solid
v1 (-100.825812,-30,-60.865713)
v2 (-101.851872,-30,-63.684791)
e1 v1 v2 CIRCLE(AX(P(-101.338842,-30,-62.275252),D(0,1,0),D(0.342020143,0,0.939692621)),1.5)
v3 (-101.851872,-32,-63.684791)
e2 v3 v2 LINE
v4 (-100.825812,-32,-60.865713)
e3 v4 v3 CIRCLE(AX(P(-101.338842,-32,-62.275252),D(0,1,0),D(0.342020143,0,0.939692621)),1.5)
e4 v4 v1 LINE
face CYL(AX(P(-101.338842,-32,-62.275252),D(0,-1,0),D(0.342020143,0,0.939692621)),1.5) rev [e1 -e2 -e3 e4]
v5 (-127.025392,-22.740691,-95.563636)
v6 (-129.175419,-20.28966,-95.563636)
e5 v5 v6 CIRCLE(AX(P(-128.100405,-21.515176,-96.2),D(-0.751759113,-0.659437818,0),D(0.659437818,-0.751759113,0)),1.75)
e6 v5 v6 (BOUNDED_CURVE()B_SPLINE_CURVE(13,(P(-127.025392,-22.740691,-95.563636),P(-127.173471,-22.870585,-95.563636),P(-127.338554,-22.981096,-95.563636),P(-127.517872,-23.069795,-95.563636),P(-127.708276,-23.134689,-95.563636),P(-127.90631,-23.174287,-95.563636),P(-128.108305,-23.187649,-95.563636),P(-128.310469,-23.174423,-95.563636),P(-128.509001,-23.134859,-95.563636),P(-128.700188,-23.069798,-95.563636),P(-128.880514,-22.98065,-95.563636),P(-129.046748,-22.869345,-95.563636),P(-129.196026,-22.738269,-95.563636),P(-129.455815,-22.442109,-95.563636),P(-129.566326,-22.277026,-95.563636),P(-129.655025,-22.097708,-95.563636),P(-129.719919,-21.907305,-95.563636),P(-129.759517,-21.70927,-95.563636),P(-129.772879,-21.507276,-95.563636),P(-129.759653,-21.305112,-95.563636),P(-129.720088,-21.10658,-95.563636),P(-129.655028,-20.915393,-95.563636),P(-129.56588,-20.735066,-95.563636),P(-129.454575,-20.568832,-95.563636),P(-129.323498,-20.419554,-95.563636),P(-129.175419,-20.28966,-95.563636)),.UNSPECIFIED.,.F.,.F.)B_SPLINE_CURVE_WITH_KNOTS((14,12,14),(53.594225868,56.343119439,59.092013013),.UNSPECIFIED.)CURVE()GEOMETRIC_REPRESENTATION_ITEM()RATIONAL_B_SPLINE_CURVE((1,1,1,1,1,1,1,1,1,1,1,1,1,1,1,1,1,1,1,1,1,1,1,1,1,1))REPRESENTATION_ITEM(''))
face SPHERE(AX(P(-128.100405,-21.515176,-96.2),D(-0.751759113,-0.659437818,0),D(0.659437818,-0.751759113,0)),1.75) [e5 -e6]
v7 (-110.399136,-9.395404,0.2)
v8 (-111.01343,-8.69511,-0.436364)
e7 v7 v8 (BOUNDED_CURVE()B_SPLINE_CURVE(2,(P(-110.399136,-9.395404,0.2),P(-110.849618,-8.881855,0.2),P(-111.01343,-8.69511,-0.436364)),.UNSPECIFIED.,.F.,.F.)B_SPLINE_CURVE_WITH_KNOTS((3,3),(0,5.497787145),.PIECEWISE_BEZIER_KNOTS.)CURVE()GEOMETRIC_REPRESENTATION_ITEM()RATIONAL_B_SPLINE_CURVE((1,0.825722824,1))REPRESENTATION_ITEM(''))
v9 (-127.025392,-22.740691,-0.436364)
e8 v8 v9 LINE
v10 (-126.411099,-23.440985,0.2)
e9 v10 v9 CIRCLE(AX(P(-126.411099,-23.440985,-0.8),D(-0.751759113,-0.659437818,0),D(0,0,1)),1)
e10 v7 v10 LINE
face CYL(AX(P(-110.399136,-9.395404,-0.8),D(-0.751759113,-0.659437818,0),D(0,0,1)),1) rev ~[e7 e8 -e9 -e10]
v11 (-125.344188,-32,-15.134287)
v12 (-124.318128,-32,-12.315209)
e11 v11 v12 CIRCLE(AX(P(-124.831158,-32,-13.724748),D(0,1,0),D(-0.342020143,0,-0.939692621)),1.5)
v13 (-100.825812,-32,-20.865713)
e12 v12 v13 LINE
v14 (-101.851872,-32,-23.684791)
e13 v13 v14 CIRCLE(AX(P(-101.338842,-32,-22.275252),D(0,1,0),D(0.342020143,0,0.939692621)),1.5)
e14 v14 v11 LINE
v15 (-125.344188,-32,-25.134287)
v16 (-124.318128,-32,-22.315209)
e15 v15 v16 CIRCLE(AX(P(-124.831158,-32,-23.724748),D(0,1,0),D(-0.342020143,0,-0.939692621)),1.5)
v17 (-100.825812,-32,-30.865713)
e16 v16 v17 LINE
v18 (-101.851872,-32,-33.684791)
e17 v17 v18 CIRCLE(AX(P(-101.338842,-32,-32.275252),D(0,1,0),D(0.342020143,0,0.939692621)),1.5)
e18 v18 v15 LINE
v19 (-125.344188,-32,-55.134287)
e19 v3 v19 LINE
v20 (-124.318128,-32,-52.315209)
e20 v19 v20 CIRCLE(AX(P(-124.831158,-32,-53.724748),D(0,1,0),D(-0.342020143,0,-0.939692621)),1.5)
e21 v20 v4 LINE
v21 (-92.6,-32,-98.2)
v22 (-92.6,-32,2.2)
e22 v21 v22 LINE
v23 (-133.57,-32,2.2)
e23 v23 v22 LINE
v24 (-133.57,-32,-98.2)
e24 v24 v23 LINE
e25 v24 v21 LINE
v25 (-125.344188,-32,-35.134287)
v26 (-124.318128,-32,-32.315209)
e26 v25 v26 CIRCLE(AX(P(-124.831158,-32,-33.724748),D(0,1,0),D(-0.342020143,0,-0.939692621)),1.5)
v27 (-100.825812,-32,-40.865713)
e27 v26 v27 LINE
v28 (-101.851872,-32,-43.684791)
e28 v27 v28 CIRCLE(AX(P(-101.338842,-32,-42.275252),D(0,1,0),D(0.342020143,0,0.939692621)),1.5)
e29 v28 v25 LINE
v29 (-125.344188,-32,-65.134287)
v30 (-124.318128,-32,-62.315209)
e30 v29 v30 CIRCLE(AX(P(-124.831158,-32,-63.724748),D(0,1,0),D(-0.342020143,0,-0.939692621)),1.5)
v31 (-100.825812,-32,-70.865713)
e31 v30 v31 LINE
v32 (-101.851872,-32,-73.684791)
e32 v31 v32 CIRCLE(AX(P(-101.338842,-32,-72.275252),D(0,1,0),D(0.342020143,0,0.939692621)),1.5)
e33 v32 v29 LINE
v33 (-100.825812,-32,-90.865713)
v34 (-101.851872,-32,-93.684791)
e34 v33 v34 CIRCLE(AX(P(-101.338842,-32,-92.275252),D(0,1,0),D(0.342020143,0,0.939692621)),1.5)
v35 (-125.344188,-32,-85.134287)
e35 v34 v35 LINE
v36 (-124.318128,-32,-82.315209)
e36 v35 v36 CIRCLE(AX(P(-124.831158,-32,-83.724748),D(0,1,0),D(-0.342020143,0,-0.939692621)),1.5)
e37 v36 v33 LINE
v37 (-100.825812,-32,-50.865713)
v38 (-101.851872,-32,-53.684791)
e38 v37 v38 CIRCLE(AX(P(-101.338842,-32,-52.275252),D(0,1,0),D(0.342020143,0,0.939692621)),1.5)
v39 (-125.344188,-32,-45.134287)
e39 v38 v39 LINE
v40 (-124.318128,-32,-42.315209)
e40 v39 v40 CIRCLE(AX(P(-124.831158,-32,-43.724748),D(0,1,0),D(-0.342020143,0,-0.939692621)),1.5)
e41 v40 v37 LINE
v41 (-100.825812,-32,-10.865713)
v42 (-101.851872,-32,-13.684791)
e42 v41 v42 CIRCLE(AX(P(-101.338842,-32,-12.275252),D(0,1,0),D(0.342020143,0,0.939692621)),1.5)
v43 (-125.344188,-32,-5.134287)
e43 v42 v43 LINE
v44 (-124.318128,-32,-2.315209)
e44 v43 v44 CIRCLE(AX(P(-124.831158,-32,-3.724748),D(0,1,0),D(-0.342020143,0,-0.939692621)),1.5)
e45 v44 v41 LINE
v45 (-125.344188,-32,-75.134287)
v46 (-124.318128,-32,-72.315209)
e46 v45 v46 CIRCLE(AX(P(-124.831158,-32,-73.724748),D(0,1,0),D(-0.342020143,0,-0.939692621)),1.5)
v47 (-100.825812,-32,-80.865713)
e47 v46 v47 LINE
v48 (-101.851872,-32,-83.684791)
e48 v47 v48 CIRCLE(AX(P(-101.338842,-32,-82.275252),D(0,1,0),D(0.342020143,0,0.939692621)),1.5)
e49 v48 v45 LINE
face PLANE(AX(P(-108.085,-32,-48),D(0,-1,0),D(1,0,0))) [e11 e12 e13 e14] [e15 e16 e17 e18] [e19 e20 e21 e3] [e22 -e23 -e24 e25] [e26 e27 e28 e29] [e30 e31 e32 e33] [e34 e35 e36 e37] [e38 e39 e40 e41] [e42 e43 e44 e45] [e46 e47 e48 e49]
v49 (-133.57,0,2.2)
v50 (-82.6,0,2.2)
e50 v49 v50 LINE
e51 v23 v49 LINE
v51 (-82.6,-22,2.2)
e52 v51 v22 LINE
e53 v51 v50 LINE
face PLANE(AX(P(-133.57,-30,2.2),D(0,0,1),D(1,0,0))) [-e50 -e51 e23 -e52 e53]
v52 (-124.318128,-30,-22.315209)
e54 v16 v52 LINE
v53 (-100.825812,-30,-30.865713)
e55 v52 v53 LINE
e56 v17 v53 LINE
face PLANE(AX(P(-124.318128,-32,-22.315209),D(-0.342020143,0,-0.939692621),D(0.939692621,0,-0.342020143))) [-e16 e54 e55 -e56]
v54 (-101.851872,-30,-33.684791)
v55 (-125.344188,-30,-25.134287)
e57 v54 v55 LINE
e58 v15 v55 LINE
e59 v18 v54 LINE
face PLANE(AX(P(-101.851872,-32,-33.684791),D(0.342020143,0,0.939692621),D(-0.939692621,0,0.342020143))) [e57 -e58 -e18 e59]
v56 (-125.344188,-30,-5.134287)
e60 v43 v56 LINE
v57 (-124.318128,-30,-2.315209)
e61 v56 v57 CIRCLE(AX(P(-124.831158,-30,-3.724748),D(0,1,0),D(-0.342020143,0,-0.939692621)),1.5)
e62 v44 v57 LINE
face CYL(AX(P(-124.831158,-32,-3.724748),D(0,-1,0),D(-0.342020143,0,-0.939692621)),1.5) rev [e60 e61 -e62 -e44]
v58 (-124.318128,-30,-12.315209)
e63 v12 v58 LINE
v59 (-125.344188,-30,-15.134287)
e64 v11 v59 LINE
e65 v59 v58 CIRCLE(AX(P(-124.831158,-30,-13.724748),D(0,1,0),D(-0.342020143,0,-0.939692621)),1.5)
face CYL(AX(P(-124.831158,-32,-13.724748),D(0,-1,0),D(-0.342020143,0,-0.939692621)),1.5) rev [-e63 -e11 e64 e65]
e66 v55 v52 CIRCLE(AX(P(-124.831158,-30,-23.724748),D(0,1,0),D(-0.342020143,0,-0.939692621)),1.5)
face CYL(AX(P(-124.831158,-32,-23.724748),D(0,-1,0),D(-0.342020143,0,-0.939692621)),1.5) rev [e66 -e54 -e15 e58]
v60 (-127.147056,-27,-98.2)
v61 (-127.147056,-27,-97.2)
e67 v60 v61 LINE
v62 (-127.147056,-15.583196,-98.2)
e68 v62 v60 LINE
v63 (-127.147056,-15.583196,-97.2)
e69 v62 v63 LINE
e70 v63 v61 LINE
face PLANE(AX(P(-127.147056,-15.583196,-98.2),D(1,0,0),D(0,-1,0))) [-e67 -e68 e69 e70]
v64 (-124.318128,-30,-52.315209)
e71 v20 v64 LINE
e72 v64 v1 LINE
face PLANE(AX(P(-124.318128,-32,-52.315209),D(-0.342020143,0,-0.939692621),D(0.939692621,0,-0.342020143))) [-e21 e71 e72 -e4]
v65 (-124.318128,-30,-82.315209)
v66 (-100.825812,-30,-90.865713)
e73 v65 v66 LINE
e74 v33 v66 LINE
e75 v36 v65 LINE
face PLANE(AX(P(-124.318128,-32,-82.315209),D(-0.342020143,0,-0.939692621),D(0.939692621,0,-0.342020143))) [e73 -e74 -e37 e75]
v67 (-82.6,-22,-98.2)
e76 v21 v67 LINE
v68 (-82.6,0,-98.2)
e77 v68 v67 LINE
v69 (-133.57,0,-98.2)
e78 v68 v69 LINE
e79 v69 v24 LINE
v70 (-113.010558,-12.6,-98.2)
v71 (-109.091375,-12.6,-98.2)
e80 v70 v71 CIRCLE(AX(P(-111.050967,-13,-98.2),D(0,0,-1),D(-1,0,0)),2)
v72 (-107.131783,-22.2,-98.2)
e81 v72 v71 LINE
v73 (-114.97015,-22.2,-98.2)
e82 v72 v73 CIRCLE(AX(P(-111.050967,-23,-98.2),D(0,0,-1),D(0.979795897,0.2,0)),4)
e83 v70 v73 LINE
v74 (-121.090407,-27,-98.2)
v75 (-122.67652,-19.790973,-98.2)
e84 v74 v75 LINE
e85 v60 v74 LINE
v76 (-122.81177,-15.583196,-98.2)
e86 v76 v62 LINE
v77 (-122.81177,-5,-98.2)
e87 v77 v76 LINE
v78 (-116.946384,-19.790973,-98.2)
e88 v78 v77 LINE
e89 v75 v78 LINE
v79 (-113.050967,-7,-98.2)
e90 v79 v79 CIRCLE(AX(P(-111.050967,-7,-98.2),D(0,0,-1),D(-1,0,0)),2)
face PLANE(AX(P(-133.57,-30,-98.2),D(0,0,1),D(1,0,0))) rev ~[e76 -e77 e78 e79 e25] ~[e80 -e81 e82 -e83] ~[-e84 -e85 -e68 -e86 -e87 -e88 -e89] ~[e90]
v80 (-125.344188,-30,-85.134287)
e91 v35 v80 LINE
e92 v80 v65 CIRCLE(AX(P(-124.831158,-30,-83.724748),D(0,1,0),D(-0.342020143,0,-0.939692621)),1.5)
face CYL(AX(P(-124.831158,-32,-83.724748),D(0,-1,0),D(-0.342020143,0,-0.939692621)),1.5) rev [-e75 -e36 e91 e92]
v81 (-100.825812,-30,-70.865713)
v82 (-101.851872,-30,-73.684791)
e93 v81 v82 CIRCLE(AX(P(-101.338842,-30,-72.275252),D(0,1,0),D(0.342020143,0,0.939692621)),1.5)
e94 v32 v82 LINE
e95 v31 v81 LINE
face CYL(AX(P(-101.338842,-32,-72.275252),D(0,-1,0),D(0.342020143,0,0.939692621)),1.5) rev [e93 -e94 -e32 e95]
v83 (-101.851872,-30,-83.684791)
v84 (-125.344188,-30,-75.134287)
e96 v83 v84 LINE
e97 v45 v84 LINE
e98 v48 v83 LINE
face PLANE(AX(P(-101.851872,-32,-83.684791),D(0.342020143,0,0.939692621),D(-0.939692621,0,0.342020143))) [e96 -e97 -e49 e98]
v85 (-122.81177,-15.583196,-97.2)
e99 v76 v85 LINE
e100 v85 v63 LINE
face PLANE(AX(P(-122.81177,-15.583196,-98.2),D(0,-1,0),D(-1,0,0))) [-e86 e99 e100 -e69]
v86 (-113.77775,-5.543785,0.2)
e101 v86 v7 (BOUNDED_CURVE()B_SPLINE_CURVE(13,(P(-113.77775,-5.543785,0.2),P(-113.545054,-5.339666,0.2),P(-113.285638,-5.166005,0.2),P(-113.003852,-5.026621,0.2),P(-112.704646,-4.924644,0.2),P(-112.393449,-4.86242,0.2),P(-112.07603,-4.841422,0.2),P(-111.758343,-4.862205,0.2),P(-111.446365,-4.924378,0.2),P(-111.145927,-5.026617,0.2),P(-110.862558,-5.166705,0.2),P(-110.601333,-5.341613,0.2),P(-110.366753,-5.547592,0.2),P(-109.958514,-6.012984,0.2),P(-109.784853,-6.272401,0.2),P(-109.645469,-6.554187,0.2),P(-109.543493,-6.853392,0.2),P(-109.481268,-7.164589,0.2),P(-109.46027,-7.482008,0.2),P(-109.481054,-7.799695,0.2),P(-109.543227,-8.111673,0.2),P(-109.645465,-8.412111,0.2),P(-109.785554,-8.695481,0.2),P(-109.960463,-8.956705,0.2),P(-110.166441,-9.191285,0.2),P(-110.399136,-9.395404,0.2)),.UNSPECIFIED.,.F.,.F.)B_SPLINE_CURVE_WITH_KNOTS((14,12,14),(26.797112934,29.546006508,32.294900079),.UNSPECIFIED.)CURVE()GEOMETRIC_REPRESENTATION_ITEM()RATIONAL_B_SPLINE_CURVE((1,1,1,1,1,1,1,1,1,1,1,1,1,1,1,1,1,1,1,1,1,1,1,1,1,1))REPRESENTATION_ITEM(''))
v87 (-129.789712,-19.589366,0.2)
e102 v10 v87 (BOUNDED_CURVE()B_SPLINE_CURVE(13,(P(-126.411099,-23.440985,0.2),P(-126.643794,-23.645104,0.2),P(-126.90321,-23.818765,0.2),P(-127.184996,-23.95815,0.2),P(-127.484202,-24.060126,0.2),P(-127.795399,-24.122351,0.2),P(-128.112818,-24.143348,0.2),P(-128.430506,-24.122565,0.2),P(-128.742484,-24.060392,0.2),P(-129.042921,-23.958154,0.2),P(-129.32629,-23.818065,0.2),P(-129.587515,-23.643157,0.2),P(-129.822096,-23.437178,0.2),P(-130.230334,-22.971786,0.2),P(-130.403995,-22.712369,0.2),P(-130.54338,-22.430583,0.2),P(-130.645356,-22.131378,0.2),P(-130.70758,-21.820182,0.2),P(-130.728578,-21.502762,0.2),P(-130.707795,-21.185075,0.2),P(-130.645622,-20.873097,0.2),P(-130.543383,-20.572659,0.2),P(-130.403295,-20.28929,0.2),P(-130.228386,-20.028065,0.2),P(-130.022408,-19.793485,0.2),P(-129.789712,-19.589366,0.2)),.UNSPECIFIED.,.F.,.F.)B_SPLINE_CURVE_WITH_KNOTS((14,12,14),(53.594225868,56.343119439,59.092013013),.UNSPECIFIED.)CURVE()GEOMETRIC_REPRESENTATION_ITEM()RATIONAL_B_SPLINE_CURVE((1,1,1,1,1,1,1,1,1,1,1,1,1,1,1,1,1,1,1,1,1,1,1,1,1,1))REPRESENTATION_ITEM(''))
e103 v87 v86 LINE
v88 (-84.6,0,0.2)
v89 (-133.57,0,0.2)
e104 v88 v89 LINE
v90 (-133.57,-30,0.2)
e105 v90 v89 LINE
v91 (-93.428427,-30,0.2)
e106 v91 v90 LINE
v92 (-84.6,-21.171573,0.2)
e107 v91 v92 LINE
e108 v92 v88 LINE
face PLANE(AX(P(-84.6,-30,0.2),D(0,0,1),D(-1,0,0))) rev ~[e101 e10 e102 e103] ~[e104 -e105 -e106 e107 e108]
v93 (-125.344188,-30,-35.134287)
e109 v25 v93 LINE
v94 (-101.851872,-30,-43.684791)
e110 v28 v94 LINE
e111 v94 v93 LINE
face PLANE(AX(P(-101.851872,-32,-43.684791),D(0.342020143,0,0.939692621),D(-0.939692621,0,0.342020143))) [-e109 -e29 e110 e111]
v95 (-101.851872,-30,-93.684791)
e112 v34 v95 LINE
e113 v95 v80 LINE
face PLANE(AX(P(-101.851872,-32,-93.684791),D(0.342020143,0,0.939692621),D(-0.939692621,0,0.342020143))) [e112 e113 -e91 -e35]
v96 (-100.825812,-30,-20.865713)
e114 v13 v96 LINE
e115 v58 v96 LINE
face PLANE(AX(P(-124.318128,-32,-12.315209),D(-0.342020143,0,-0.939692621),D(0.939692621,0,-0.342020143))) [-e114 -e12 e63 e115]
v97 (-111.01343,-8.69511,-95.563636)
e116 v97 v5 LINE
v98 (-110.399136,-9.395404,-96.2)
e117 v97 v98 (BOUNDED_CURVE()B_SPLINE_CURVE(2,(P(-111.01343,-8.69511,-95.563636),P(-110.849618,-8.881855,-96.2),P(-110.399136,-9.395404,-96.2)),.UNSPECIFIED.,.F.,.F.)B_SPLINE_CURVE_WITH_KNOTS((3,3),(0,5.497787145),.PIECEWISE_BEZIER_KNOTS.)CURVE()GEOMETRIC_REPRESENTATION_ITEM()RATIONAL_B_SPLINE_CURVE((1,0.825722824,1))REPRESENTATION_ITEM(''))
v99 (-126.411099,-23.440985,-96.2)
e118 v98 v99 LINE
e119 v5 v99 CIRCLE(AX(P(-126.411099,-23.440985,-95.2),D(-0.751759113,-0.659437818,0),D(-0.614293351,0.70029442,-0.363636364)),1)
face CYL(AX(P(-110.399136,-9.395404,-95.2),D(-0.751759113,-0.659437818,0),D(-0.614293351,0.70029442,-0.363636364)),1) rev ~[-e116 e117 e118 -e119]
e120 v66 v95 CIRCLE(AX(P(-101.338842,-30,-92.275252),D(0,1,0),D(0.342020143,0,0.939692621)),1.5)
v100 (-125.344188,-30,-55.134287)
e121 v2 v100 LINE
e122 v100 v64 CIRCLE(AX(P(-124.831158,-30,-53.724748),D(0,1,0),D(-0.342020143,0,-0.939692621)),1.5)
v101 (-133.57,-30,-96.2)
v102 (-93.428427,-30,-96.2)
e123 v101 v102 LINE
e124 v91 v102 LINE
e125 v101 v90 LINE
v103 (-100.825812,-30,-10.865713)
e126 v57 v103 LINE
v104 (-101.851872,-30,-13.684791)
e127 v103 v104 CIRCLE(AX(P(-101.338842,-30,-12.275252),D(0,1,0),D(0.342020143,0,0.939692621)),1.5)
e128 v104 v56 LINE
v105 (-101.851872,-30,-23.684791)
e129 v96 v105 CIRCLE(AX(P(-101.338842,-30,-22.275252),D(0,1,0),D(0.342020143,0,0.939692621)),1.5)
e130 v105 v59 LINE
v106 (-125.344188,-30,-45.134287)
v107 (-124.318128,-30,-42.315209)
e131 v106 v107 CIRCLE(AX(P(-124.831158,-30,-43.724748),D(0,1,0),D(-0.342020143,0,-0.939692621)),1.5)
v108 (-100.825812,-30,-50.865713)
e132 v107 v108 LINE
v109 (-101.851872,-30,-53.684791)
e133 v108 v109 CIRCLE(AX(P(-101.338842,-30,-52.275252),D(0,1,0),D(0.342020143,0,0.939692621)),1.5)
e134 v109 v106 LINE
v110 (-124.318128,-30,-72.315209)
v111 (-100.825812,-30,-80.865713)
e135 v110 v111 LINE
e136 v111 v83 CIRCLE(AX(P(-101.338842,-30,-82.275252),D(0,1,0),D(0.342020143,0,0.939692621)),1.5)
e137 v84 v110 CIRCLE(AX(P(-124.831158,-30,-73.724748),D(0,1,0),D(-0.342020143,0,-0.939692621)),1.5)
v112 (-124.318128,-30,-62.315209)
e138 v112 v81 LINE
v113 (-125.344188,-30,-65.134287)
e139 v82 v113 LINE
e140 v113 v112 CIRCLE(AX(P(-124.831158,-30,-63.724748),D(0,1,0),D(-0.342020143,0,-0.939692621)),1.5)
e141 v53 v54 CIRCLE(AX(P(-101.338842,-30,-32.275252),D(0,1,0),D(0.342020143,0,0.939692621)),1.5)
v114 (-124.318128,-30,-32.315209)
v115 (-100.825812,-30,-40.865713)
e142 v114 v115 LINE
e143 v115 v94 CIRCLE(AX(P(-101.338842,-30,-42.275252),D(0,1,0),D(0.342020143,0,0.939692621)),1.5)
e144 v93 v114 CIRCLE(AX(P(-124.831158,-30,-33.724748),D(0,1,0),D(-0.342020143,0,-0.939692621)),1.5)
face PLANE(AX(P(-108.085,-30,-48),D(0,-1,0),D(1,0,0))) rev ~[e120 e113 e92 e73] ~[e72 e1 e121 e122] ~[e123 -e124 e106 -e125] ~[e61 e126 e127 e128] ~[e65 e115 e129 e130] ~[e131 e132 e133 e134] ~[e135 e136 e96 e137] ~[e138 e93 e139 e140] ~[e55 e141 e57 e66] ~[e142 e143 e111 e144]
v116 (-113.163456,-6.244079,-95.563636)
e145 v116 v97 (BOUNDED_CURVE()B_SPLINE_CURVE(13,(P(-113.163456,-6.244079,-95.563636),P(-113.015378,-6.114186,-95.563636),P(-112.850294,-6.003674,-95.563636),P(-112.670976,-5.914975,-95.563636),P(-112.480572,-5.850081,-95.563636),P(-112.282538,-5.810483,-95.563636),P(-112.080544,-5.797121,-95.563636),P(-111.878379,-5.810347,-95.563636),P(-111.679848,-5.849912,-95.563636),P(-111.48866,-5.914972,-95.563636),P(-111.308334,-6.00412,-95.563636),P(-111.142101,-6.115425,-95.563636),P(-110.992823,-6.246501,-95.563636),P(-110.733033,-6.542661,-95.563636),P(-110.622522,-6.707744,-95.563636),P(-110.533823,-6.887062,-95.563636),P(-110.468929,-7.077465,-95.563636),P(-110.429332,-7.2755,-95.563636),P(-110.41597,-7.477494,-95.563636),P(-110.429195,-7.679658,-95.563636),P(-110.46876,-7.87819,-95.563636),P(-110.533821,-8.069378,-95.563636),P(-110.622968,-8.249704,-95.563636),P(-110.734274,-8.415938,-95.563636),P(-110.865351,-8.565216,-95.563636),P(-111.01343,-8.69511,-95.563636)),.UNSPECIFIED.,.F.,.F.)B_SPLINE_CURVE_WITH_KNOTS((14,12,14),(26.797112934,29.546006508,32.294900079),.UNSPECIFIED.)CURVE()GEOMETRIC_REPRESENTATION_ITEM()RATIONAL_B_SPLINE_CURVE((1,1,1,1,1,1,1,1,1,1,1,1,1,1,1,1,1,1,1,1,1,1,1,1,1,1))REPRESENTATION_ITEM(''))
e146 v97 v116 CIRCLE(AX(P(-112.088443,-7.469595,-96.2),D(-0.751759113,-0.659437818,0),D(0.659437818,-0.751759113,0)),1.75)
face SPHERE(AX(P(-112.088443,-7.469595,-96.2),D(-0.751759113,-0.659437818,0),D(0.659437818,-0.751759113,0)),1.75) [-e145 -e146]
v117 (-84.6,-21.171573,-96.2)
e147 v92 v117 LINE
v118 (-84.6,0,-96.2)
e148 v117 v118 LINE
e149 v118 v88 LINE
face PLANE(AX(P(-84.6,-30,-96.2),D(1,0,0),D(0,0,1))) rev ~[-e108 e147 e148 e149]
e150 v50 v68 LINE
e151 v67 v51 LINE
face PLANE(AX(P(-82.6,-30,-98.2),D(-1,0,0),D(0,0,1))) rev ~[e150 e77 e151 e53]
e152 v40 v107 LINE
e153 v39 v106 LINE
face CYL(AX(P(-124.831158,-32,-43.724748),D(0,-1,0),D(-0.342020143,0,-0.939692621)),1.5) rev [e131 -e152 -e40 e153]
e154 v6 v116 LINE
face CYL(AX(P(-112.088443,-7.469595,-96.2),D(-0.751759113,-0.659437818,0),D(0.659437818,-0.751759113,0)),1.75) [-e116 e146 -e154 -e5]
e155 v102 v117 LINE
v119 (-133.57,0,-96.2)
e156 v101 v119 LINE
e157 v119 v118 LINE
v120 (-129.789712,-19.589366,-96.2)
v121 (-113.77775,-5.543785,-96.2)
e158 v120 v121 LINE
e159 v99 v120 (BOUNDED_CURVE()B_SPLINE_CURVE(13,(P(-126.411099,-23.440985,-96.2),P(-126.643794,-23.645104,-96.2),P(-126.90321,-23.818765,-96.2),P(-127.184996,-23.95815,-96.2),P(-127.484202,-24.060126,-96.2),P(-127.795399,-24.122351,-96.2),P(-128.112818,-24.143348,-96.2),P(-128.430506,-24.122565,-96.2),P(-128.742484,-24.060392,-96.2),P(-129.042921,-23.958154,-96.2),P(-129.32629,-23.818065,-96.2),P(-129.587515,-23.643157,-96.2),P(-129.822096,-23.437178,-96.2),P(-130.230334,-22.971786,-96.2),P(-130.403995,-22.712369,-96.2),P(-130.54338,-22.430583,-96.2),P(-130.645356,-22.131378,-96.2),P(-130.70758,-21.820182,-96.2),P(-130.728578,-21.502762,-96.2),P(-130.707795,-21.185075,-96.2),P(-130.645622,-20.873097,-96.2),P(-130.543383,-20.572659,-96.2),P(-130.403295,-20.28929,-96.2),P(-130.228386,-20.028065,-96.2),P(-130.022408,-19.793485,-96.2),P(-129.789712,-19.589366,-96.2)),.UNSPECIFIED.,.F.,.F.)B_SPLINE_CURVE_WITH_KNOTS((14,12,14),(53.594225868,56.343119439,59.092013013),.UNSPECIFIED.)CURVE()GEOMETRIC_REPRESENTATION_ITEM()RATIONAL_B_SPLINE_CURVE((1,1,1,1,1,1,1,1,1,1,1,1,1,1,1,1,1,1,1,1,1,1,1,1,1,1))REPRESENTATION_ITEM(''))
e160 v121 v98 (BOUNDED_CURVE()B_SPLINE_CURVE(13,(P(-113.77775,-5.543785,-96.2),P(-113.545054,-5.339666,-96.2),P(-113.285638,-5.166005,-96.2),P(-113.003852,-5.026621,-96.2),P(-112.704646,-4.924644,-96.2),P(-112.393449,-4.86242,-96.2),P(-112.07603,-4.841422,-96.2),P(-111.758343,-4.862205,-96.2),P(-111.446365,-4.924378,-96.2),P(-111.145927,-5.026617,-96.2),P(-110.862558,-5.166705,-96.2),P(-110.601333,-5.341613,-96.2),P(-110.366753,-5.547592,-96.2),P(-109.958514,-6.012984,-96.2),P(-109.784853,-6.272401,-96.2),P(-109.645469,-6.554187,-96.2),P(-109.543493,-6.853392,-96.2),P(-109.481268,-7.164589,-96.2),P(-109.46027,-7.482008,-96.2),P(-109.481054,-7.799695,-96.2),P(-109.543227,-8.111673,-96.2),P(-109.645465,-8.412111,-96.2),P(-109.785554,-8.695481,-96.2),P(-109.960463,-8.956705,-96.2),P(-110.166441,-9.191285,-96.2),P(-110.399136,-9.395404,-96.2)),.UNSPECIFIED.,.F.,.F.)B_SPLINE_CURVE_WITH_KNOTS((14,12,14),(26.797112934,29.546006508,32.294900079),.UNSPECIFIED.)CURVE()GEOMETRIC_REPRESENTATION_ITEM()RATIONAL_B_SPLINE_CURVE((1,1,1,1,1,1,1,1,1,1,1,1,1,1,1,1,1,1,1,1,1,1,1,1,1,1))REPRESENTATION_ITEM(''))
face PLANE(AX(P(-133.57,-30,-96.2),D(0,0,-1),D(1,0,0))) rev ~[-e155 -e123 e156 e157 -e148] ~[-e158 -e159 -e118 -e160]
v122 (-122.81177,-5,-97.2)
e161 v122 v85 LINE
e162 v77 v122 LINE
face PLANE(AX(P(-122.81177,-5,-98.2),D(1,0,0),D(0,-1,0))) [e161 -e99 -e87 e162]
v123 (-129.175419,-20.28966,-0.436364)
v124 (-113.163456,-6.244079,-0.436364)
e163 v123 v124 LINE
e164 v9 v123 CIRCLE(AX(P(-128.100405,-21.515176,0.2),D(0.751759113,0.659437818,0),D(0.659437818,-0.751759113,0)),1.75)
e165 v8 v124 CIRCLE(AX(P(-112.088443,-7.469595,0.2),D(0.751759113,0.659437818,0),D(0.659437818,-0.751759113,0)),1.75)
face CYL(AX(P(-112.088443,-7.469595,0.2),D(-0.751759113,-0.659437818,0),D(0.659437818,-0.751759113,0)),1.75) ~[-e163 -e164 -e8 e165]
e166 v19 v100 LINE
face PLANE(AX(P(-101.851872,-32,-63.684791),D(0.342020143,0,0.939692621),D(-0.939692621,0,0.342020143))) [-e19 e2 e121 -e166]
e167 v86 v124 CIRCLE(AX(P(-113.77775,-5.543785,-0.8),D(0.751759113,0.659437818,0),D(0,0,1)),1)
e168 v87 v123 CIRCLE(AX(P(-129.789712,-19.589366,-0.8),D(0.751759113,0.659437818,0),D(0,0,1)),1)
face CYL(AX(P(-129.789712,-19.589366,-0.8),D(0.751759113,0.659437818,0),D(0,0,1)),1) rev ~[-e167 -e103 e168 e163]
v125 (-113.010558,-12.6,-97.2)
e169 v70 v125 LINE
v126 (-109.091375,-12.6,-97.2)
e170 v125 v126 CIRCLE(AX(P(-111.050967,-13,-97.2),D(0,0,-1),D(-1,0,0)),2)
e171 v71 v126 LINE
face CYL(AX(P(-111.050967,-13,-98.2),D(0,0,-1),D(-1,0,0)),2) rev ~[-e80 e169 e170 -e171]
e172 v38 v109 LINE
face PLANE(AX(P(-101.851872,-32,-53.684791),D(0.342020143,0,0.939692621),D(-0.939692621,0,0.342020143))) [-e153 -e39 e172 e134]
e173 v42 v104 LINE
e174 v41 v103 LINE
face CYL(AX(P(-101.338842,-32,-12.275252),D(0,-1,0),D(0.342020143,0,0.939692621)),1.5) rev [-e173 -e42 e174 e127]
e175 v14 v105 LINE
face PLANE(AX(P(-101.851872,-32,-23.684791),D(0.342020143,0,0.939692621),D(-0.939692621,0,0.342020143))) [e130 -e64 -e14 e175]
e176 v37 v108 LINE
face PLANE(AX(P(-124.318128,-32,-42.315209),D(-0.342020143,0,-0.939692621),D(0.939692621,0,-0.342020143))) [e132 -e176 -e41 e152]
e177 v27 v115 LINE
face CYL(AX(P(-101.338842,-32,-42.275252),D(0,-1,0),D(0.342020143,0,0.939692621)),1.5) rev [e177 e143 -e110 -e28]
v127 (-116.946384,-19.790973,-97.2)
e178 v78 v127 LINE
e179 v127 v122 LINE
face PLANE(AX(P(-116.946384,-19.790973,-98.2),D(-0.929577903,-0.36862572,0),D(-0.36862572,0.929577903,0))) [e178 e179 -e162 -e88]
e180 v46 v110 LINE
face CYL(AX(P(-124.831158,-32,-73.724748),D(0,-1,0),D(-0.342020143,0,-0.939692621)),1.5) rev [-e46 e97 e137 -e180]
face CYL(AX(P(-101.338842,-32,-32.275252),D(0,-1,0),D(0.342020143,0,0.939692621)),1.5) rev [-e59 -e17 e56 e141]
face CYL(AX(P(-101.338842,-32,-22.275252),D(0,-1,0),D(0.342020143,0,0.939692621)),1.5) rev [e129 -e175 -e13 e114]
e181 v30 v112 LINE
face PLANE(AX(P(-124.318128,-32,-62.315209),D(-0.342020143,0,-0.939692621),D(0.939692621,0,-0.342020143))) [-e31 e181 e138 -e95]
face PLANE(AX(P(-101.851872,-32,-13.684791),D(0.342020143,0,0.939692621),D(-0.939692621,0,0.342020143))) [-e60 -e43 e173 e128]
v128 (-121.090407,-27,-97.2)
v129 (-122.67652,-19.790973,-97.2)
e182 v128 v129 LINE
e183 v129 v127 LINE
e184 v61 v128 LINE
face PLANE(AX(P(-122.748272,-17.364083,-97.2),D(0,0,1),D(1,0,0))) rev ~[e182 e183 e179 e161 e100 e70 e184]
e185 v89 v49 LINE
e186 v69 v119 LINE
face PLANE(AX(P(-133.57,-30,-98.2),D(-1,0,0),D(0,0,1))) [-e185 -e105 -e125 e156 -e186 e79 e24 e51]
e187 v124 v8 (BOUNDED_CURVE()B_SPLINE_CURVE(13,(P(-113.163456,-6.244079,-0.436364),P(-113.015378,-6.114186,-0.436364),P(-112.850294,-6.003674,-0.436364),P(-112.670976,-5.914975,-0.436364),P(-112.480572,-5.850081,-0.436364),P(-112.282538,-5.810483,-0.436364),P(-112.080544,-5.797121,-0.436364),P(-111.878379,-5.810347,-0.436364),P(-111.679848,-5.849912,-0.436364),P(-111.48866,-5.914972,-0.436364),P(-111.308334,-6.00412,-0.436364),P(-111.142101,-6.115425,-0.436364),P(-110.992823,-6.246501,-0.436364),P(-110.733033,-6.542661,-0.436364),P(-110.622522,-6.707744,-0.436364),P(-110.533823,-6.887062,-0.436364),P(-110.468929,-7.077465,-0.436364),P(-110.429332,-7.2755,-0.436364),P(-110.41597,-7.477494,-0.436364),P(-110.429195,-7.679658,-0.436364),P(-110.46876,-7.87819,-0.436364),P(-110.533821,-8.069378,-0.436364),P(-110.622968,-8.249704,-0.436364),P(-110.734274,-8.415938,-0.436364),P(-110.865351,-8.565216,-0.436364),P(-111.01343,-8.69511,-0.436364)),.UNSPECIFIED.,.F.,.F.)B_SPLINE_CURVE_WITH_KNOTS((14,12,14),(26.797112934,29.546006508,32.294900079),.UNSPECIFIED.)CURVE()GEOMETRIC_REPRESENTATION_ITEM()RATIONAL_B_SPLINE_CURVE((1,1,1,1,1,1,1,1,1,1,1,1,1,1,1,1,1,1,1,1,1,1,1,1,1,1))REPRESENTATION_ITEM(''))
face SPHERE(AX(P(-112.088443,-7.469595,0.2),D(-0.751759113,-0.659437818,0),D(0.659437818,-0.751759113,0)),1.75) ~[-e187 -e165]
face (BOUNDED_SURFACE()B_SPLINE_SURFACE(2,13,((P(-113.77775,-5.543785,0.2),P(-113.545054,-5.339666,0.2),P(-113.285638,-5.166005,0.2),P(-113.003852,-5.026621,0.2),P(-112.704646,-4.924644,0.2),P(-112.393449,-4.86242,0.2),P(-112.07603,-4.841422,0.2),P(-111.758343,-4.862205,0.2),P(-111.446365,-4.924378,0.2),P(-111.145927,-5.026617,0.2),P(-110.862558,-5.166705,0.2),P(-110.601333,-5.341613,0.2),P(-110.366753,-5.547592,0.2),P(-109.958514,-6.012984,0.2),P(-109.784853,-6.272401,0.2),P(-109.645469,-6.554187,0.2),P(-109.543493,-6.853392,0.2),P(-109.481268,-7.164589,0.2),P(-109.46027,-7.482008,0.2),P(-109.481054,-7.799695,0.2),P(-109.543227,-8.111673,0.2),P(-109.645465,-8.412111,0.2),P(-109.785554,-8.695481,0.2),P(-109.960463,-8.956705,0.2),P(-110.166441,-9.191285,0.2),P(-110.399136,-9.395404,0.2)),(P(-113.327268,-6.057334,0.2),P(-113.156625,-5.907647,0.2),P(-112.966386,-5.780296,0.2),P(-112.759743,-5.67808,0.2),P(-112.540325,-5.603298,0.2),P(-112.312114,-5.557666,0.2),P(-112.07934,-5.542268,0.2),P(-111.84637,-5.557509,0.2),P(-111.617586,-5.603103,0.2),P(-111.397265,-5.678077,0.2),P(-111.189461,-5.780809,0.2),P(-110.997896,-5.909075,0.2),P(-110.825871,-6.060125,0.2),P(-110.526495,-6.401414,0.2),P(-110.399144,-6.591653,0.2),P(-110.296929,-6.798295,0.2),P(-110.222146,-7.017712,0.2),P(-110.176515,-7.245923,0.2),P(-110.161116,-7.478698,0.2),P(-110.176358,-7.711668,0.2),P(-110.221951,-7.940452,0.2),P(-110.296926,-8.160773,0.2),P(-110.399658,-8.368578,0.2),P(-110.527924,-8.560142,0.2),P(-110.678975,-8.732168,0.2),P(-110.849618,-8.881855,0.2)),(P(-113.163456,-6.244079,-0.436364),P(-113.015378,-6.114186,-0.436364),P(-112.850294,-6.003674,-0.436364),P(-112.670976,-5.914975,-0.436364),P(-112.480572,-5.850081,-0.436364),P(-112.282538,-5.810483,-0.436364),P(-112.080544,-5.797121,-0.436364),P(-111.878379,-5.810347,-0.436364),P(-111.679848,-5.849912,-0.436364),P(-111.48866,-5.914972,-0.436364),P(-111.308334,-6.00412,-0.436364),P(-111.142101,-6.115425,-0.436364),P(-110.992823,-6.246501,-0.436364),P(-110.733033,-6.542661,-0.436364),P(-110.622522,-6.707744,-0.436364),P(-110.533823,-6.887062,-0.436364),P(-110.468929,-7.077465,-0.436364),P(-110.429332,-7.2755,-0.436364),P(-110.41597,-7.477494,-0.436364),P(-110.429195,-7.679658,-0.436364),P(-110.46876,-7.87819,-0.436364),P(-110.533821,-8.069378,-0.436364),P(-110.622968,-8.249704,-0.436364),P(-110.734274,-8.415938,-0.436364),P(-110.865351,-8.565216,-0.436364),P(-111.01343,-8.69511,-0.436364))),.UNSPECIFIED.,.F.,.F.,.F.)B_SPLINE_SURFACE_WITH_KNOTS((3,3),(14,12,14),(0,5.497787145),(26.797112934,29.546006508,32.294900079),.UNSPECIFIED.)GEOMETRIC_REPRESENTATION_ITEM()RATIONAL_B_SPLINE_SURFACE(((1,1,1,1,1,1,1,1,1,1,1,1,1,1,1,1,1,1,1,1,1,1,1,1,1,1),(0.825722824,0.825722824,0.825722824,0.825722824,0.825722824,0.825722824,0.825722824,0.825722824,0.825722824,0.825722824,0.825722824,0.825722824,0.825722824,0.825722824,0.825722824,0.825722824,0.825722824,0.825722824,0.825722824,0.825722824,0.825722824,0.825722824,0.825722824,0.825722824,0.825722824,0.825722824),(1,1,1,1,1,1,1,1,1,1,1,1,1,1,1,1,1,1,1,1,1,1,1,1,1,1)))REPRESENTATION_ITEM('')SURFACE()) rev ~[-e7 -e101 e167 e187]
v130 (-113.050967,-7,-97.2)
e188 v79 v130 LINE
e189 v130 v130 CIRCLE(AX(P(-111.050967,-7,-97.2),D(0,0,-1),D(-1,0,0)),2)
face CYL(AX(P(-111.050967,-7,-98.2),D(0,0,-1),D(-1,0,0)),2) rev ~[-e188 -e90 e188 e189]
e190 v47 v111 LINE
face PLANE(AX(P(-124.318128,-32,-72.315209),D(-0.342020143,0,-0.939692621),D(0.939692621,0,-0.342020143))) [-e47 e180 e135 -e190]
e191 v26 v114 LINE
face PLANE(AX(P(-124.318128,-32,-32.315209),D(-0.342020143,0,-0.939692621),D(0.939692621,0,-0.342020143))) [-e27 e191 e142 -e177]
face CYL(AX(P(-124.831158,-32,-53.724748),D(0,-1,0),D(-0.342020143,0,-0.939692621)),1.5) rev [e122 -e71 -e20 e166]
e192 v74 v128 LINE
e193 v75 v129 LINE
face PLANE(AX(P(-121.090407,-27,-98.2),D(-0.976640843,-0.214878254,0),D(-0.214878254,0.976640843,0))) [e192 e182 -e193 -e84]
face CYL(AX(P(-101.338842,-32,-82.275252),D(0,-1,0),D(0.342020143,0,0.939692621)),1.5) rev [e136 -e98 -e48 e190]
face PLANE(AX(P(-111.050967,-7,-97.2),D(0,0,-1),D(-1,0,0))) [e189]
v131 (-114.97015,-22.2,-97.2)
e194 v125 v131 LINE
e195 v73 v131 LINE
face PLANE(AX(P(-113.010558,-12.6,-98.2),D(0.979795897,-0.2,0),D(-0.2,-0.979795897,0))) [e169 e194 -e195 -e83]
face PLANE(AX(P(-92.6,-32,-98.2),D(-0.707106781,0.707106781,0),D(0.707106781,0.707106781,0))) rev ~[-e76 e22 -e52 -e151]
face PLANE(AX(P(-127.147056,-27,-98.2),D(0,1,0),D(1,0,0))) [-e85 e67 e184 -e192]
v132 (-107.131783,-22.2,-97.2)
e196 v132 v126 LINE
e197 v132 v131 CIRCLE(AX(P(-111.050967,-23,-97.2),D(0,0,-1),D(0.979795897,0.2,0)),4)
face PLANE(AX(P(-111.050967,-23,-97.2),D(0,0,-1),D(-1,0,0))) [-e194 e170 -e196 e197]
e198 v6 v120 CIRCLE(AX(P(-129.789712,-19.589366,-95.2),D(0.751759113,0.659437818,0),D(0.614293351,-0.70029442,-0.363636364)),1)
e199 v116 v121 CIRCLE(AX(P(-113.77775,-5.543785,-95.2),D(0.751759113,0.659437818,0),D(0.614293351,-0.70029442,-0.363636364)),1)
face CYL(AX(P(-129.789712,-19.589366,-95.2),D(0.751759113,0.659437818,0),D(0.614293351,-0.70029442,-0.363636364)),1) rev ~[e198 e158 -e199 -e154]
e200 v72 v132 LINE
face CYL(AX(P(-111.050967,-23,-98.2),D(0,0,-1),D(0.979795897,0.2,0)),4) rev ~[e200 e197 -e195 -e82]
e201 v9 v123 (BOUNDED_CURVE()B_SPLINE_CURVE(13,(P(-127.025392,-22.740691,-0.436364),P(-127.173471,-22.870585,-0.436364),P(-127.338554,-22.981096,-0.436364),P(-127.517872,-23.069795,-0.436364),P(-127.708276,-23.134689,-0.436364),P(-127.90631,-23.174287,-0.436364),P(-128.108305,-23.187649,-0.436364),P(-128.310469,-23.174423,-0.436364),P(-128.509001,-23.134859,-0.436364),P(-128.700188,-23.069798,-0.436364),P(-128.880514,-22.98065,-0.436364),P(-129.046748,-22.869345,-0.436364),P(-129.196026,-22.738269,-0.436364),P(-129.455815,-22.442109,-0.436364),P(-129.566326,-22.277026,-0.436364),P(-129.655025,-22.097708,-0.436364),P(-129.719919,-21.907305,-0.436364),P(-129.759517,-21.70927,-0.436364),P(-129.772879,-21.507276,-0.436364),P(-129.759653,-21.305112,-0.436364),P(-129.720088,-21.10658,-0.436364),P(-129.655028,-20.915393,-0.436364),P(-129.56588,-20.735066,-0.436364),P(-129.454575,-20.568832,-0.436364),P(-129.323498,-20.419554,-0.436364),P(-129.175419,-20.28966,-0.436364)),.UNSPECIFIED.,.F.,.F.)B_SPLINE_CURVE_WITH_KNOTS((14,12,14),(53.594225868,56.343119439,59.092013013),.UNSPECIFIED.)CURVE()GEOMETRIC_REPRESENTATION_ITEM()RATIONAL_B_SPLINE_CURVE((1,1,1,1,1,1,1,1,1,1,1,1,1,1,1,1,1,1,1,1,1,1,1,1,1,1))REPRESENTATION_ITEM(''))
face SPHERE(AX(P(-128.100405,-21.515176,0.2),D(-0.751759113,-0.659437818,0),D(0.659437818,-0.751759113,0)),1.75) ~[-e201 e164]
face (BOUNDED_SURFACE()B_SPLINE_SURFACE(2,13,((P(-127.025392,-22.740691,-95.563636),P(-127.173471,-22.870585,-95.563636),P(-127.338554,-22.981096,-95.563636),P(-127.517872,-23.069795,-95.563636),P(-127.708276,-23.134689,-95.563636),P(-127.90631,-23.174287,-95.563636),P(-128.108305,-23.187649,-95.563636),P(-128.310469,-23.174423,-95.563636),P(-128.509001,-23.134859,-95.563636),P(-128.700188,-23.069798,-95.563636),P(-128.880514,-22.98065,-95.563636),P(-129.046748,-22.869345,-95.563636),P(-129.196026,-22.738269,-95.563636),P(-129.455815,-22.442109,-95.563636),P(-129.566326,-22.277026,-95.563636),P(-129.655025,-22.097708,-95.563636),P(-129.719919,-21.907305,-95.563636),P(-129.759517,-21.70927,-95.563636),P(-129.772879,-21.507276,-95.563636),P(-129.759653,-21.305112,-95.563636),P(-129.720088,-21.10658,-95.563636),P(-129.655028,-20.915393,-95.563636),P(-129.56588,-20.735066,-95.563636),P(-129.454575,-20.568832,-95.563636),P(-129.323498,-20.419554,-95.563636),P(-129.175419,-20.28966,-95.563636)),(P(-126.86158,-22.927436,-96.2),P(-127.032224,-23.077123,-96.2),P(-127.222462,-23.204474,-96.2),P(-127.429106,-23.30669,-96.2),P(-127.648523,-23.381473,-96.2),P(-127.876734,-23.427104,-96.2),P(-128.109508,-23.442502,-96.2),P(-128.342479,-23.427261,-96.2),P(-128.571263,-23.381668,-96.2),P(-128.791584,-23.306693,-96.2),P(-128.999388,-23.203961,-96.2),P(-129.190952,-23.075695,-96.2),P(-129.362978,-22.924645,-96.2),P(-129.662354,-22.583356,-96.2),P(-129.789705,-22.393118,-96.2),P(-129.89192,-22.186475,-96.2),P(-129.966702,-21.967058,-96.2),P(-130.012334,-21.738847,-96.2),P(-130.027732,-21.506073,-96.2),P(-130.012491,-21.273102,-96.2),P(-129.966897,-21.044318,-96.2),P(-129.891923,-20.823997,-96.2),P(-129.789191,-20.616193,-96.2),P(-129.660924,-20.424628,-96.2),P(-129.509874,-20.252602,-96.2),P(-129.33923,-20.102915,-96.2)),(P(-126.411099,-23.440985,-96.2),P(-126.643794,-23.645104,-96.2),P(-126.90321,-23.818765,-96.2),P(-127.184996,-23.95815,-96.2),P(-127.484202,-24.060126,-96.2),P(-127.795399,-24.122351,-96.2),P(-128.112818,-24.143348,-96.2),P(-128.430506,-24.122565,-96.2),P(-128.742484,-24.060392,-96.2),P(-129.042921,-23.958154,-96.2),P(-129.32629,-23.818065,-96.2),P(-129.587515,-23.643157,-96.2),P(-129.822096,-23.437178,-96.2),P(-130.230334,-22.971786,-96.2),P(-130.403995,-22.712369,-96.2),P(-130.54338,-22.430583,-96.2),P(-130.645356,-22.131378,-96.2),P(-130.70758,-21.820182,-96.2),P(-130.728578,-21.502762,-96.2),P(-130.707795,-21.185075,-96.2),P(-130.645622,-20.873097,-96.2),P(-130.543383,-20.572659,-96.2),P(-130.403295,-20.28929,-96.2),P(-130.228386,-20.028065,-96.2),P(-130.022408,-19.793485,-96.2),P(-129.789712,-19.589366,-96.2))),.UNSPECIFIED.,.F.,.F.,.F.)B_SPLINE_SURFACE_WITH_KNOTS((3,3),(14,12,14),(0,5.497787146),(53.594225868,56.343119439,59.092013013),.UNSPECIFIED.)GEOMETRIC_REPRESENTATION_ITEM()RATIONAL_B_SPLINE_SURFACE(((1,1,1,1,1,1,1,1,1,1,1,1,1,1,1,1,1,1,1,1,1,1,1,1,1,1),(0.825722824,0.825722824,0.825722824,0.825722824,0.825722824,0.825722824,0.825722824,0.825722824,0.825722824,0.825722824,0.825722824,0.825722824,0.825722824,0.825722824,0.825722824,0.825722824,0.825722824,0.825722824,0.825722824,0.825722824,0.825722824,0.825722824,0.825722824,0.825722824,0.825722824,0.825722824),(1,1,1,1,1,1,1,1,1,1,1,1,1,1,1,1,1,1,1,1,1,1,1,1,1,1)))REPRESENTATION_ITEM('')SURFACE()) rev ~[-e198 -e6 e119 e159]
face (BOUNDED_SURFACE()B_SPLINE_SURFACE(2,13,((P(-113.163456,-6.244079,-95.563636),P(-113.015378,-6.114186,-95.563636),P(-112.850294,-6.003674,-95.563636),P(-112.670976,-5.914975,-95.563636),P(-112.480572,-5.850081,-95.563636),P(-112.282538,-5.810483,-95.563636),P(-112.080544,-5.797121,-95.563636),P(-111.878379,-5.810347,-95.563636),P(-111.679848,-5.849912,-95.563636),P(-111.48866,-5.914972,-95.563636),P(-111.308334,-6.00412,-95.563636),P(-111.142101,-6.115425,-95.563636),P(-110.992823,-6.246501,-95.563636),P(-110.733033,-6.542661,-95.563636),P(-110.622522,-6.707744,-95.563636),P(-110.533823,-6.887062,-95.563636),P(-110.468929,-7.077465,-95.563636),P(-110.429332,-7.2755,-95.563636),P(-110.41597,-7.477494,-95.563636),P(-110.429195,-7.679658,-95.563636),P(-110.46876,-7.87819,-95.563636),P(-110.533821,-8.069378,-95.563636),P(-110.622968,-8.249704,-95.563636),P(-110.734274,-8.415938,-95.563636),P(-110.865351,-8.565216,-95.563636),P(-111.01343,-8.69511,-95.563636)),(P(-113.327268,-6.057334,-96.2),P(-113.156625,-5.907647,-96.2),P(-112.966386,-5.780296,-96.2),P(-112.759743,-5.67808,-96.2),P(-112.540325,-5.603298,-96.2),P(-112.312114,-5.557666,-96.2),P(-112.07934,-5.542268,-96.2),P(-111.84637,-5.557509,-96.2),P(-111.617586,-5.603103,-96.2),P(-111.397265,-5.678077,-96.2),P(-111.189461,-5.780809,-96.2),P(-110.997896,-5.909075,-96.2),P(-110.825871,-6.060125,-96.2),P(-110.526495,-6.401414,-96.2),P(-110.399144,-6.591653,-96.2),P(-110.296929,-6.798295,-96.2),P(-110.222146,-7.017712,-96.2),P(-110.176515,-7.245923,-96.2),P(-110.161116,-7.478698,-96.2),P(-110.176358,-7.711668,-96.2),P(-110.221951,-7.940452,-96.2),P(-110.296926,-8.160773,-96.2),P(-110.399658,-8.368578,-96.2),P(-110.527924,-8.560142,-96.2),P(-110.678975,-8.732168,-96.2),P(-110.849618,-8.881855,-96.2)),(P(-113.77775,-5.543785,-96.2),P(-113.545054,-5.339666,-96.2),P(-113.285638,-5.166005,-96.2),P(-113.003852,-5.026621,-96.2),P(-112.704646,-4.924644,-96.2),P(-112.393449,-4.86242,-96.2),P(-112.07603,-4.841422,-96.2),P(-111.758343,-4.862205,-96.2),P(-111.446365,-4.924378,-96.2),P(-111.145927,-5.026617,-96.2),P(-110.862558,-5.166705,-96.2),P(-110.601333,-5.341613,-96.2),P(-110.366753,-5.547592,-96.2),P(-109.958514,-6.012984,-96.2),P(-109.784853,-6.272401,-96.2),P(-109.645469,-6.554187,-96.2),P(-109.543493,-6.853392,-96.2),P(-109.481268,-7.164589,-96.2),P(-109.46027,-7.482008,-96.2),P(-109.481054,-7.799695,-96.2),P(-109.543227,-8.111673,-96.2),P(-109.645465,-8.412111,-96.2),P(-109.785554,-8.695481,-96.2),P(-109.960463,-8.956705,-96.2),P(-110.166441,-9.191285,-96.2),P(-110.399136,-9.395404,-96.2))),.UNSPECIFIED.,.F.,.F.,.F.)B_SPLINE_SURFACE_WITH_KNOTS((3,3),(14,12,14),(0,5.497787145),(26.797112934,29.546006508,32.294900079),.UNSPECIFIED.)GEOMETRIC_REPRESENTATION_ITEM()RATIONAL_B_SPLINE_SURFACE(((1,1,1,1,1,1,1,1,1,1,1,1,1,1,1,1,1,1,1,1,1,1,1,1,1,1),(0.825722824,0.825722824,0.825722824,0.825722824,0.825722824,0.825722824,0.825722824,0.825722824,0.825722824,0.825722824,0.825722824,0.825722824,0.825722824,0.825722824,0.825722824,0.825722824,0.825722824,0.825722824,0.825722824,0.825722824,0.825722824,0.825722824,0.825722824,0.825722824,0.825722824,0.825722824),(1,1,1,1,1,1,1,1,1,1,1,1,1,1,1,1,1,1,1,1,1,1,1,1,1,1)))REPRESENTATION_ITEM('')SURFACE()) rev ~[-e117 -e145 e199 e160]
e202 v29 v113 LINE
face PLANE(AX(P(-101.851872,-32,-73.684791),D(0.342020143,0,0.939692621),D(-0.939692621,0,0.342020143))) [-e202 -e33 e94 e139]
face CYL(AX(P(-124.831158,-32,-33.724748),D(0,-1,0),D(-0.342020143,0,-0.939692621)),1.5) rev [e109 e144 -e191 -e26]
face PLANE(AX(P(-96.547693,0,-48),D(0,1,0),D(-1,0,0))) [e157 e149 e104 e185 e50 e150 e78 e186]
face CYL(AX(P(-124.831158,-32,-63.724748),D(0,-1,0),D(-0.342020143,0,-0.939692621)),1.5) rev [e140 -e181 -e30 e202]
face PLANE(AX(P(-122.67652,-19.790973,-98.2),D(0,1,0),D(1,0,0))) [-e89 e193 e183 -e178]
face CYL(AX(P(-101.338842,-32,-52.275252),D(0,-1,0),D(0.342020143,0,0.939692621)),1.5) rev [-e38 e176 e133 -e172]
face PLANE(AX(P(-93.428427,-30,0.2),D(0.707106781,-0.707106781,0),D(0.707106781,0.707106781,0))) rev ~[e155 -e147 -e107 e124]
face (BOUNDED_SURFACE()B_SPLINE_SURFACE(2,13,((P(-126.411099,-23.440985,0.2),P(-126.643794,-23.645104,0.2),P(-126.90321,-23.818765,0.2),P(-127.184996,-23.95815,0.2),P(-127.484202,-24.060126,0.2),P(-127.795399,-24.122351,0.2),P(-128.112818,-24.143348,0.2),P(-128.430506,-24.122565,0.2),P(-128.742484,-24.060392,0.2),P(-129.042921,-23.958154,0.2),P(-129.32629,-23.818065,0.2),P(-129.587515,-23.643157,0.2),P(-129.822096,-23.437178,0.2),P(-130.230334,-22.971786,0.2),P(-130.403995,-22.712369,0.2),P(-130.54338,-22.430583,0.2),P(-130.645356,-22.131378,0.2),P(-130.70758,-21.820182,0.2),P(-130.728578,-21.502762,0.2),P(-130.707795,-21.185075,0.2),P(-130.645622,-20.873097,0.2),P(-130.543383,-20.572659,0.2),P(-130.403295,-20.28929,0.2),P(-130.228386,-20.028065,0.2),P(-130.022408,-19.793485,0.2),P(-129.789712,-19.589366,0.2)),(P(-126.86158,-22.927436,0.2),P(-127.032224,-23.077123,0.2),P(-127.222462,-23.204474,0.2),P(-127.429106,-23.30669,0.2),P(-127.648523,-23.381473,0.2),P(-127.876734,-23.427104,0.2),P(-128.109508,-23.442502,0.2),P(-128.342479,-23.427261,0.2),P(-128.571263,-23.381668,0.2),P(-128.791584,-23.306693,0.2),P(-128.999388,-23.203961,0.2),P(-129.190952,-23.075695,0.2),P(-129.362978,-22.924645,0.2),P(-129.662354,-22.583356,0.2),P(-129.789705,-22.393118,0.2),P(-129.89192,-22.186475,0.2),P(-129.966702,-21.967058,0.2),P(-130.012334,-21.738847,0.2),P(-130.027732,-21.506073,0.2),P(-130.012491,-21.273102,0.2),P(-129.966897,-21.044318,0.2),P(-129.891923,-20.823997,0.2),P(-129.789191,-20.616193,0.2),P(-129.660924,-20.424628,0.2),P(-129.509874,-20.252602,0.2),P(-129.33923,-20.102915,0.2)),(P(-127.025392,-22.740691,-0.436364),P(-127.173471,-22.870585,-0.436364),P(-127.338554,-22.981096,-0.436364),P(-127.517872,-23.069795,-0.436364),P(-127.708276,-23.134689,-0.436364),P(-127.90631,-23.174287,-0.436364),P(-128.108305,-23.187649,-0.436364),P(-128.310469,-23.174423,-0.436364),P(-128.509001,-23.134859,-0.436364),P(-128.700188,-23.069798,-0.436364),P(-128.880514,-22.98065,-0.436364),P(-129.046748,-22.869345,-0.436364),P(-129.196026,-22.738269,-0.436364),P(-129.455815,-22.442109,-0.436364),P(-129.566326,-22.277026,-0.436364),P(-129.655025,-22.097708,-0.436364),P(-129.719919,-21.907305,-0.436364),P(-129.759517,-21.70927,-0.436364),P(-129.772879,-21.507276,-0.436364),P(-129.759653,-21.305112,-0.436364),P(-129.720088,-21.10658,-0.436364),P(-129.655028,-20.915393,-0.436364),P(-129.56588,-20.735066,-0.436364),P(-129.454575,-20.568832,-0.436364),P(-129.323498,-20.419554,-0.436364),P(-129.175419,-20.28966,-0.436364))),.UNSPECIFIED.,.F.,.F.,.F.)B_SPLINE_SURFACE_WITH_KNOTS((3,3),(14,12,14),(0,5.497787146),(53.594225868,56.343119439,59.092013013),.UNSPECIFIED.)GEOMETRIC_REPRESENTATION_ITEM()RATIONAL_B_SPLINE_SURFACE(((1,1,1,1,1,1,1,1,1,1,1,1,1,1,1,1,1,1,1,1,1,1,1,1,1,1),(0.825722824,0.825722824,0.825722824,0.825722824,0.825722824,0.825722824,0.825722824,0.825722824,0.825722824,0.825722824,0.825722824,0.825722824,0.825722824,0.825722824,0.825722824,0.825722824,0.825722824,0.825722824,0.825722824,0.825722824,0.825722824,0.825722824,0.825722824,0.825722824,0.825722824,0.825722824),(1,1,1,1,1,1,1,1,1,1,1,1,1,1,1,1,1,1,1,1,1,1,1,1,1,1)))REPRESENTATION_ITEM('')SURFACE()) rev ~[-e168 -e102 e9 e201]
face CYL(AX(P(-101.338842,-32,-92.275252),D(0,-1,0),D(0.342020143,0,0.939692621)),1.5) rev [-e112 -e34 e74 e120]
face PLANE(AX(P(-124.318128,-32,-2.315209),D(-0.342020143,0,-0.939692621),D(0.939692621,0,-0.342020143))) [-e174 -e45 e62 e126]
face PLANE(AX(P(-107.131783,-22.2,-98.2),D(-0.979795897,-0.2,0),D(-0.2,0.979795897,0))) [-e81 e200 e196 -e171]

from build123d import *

# Parameters (mm, degrees)
BOSS_EXTRUDE1_DEPTH = 30
SKETCH3_W           = 50.97
SKETCH3_H           = 100.4
BOSS_EXTRUDE2_DEPTH = 2
REVOLVE1_ANGLE      = 358
FILLET1_R           = 1
CUT_EXTRUDE1_DEPTH  = 101
BOSS_EXTRUDE3_REACH = 170.96
CUT_EXTRUDE2_DEPTH  = 2
LPATTERN1_COUNT     = 5
LPATTERN1_PITCH     = 10
LPATTERN2_COUNT     = 5
LPATTERN2_PITCH     = 10
SKETCH9_R           = 2
SKETCH9_R_2         = 4
CUT_EXTRUDE3_DEPTH  = 1


with BuildPart() as part:
    # Sketch2 → Boss-Extrude1 (new body)
    with BuildSketch(Plane.XZ.offset(30)):
        Polygon((-133.57, -96.2), (-84.6, -96.2), (-84.6, 0.2), (-133.57, 0.2), (-133.57, 2.2), (-82.6, 2.2), (-82.6, -98.2), (-133.57, -98.2), align=None)
    extrude(amount=-BOSS_EXTRUDE1_DEPTH)

    # Sketch3 → Boss-Extrude2 (add)
    with BuildSketch(Plane.XZ.offset(30)):
        with Locations((-108.085, -48)):
            Rectangle(SKETCH3_W, SKETCH3_H)
    extrude(amount=BOSS_EXTRUDE2_DEPTH)

    # Sketch4 → Revolve1 (revolve)
    with BuildSketch(Plane(origin=(0, 0, 0.2), x_dir=(-1, 0, 0), z_dir=(0, 0, -1))):
        with BuildLine():
            ThreePointArc((126.946389188, -22.830754007), (128.214647144, -23.261442668), (129.415983818, -22.669191741))
            Line((129.415983818, -22.669191741), (110.772864663, -6.315578448))
            ThreePointArc((110.772864663, -6.315578448), (110.342176002, -7.583836403), (110.934426929, -8.785173077))
            Line((110.934426929, -8.785173077), (126.946389188, -22.830754007))
        make_face()
    revolve1 = revolve(axis=Axis((-128.10040537, -21.515175559, 0.2), (0.7517591128712743, 0.6594378183081363, 0)), revolution_arc=REVOLVE1_ANGLE)

    # Mirror3: Revolve1 across plane
    add(revolve1.mirror(Plane(origin=(0, 0, -48), x_dir=(1, 0, 0), z_dir=(0, 0, -1))))

    # Fillet1
    fillet1_edges = [part.edges().sort_by_distance(p)[0] for p in [
        (-128.214647144, -23.261442668, 0.2),
        (-121.248440423, -13.176806647, 0.2),
        (-111.974201337, -5.72332752, 0.2),
        (-118.940408059, -15.807963542, 0.2),
        (-128.214647144, -23.261442668, -96.2),
        (-121.248440423, -13.176806647, -96.2),
        (-111.974201337, -5.72332752, -96.2),
        (-118.940408059, -15.807963542, -96.2),
    ]]
    fillet(fillet1_edges, radius=FILLET1_R)

    # Sketch5 → Cut-Extrude1 (cut)
    with BuildSketch(Plane(origin=(0, 0, -98.2), x_dir=(-1, 0, 0), z_dir=(0, 0, -1))):
        Polygon((92.6, -32), (82.6, -22), (82.6, -32), align=None)
    extrude(amount=-CUT_EXTRUDE1_DEPTH, mode=Mode.SUBTRACT)

    # Sketch7 → Boss-Extrude3 (add, up to next)
    with BuildSketch(Plane(origin=(0, 0, 0.2), x_dir=(-1, 0, 0), z_dir=(0, 0, -1)), mode=Mode.PRIVATE) as boss_extrude3_sk1:
        Polygon((93.428427125, -30), (84.6, -21.171572875), (84.6, -24), (90.6, -30), align=None)
    boss_extrude3_tool1 = extrude(boss_extrude3_sk1.sketch, amount=BOSS_EXTRUDE3_REACH, mode=Mode.PRIVATE) - part.part
    add(boss_extrude3_tool1.solids().sort_by_distance((-88.352065, -26.247935, 0.2))[0])

    # Sketch8 → Cut-Extrude2 (cut)
    with BuildSketch(Plane.XZ.offset(32)):
        with BuildLine():
            Line((-101.851872455, -53.684790723), (-125.344187975, -45.13428714))
            ThreePointArc((-125.344187975, -45.13428714), (-126.240696691, -43.211717993), (-124.318127545, -42.315209277))
            Line((-124.318127545, -42.315209277), (-100.825812025, -50.86571286))
            ThreePointArc((-100.825812025, -50.86571286), (-99.929303309, -52.788282007), (-101.851872455, -53.684790723))
        make_face()
    cut_extrude2 = extrude(amount=-CUT_EXTRUDE2_DEPTH, mode=Mode.SUBTRACT)

    # LPattern1: Cut-Extrude2 ×5
    with Locations(*[(0, 0, -i * LPATTERN1_PITCH) for i in range(1, LPATTERN1_COUNT)]):
        add(cut_extrude2, mode=Mode.SUBTRACT)

    # LPattern2: Cut-Extrude2 ×5
    with Locations(*[(0, 0, i * LPATTERN2_PITCH) for i in range(1, LPATTERN2_COUNT)]):
        add(cut_extrude2, mode=Mode.SUBTRACT)

    # Sketch9 → Cut-Extrude3 (cut)
    with BuildSketch(Plane(origin=(0, 0, -98.2), x_dir=(-1, 0, 0), z_dir=(0, 0, -1))):
        with Locations((111.05096655, -7)):
            Circle(SKETCH9_R)
        with Locations((111.05096655, -23)):
            Circle(SKETCH9_R_2)
        with Locations((111.05096655, -13)):
            Circle(SKETCH9_R)
        Polygon((127.147055737, -27), (121.090407141, -27), (122.676520454, -19.790973413), (116.946384418, -19.790973413), (122.811770426, -5), (122.811770426, -15.583196494), (127.147055737, -15.583196494), align=None)
        Polygon((113.010558344, -12.6), (114.970150138, -22.2), (107.131782961, -22.2), (109.091374756, -12.6), align=None)
    extrude(amount=-CUT_EXTRUDE3_DEPTH, mode=Mode.SUBTRACT)


solid = part.part
